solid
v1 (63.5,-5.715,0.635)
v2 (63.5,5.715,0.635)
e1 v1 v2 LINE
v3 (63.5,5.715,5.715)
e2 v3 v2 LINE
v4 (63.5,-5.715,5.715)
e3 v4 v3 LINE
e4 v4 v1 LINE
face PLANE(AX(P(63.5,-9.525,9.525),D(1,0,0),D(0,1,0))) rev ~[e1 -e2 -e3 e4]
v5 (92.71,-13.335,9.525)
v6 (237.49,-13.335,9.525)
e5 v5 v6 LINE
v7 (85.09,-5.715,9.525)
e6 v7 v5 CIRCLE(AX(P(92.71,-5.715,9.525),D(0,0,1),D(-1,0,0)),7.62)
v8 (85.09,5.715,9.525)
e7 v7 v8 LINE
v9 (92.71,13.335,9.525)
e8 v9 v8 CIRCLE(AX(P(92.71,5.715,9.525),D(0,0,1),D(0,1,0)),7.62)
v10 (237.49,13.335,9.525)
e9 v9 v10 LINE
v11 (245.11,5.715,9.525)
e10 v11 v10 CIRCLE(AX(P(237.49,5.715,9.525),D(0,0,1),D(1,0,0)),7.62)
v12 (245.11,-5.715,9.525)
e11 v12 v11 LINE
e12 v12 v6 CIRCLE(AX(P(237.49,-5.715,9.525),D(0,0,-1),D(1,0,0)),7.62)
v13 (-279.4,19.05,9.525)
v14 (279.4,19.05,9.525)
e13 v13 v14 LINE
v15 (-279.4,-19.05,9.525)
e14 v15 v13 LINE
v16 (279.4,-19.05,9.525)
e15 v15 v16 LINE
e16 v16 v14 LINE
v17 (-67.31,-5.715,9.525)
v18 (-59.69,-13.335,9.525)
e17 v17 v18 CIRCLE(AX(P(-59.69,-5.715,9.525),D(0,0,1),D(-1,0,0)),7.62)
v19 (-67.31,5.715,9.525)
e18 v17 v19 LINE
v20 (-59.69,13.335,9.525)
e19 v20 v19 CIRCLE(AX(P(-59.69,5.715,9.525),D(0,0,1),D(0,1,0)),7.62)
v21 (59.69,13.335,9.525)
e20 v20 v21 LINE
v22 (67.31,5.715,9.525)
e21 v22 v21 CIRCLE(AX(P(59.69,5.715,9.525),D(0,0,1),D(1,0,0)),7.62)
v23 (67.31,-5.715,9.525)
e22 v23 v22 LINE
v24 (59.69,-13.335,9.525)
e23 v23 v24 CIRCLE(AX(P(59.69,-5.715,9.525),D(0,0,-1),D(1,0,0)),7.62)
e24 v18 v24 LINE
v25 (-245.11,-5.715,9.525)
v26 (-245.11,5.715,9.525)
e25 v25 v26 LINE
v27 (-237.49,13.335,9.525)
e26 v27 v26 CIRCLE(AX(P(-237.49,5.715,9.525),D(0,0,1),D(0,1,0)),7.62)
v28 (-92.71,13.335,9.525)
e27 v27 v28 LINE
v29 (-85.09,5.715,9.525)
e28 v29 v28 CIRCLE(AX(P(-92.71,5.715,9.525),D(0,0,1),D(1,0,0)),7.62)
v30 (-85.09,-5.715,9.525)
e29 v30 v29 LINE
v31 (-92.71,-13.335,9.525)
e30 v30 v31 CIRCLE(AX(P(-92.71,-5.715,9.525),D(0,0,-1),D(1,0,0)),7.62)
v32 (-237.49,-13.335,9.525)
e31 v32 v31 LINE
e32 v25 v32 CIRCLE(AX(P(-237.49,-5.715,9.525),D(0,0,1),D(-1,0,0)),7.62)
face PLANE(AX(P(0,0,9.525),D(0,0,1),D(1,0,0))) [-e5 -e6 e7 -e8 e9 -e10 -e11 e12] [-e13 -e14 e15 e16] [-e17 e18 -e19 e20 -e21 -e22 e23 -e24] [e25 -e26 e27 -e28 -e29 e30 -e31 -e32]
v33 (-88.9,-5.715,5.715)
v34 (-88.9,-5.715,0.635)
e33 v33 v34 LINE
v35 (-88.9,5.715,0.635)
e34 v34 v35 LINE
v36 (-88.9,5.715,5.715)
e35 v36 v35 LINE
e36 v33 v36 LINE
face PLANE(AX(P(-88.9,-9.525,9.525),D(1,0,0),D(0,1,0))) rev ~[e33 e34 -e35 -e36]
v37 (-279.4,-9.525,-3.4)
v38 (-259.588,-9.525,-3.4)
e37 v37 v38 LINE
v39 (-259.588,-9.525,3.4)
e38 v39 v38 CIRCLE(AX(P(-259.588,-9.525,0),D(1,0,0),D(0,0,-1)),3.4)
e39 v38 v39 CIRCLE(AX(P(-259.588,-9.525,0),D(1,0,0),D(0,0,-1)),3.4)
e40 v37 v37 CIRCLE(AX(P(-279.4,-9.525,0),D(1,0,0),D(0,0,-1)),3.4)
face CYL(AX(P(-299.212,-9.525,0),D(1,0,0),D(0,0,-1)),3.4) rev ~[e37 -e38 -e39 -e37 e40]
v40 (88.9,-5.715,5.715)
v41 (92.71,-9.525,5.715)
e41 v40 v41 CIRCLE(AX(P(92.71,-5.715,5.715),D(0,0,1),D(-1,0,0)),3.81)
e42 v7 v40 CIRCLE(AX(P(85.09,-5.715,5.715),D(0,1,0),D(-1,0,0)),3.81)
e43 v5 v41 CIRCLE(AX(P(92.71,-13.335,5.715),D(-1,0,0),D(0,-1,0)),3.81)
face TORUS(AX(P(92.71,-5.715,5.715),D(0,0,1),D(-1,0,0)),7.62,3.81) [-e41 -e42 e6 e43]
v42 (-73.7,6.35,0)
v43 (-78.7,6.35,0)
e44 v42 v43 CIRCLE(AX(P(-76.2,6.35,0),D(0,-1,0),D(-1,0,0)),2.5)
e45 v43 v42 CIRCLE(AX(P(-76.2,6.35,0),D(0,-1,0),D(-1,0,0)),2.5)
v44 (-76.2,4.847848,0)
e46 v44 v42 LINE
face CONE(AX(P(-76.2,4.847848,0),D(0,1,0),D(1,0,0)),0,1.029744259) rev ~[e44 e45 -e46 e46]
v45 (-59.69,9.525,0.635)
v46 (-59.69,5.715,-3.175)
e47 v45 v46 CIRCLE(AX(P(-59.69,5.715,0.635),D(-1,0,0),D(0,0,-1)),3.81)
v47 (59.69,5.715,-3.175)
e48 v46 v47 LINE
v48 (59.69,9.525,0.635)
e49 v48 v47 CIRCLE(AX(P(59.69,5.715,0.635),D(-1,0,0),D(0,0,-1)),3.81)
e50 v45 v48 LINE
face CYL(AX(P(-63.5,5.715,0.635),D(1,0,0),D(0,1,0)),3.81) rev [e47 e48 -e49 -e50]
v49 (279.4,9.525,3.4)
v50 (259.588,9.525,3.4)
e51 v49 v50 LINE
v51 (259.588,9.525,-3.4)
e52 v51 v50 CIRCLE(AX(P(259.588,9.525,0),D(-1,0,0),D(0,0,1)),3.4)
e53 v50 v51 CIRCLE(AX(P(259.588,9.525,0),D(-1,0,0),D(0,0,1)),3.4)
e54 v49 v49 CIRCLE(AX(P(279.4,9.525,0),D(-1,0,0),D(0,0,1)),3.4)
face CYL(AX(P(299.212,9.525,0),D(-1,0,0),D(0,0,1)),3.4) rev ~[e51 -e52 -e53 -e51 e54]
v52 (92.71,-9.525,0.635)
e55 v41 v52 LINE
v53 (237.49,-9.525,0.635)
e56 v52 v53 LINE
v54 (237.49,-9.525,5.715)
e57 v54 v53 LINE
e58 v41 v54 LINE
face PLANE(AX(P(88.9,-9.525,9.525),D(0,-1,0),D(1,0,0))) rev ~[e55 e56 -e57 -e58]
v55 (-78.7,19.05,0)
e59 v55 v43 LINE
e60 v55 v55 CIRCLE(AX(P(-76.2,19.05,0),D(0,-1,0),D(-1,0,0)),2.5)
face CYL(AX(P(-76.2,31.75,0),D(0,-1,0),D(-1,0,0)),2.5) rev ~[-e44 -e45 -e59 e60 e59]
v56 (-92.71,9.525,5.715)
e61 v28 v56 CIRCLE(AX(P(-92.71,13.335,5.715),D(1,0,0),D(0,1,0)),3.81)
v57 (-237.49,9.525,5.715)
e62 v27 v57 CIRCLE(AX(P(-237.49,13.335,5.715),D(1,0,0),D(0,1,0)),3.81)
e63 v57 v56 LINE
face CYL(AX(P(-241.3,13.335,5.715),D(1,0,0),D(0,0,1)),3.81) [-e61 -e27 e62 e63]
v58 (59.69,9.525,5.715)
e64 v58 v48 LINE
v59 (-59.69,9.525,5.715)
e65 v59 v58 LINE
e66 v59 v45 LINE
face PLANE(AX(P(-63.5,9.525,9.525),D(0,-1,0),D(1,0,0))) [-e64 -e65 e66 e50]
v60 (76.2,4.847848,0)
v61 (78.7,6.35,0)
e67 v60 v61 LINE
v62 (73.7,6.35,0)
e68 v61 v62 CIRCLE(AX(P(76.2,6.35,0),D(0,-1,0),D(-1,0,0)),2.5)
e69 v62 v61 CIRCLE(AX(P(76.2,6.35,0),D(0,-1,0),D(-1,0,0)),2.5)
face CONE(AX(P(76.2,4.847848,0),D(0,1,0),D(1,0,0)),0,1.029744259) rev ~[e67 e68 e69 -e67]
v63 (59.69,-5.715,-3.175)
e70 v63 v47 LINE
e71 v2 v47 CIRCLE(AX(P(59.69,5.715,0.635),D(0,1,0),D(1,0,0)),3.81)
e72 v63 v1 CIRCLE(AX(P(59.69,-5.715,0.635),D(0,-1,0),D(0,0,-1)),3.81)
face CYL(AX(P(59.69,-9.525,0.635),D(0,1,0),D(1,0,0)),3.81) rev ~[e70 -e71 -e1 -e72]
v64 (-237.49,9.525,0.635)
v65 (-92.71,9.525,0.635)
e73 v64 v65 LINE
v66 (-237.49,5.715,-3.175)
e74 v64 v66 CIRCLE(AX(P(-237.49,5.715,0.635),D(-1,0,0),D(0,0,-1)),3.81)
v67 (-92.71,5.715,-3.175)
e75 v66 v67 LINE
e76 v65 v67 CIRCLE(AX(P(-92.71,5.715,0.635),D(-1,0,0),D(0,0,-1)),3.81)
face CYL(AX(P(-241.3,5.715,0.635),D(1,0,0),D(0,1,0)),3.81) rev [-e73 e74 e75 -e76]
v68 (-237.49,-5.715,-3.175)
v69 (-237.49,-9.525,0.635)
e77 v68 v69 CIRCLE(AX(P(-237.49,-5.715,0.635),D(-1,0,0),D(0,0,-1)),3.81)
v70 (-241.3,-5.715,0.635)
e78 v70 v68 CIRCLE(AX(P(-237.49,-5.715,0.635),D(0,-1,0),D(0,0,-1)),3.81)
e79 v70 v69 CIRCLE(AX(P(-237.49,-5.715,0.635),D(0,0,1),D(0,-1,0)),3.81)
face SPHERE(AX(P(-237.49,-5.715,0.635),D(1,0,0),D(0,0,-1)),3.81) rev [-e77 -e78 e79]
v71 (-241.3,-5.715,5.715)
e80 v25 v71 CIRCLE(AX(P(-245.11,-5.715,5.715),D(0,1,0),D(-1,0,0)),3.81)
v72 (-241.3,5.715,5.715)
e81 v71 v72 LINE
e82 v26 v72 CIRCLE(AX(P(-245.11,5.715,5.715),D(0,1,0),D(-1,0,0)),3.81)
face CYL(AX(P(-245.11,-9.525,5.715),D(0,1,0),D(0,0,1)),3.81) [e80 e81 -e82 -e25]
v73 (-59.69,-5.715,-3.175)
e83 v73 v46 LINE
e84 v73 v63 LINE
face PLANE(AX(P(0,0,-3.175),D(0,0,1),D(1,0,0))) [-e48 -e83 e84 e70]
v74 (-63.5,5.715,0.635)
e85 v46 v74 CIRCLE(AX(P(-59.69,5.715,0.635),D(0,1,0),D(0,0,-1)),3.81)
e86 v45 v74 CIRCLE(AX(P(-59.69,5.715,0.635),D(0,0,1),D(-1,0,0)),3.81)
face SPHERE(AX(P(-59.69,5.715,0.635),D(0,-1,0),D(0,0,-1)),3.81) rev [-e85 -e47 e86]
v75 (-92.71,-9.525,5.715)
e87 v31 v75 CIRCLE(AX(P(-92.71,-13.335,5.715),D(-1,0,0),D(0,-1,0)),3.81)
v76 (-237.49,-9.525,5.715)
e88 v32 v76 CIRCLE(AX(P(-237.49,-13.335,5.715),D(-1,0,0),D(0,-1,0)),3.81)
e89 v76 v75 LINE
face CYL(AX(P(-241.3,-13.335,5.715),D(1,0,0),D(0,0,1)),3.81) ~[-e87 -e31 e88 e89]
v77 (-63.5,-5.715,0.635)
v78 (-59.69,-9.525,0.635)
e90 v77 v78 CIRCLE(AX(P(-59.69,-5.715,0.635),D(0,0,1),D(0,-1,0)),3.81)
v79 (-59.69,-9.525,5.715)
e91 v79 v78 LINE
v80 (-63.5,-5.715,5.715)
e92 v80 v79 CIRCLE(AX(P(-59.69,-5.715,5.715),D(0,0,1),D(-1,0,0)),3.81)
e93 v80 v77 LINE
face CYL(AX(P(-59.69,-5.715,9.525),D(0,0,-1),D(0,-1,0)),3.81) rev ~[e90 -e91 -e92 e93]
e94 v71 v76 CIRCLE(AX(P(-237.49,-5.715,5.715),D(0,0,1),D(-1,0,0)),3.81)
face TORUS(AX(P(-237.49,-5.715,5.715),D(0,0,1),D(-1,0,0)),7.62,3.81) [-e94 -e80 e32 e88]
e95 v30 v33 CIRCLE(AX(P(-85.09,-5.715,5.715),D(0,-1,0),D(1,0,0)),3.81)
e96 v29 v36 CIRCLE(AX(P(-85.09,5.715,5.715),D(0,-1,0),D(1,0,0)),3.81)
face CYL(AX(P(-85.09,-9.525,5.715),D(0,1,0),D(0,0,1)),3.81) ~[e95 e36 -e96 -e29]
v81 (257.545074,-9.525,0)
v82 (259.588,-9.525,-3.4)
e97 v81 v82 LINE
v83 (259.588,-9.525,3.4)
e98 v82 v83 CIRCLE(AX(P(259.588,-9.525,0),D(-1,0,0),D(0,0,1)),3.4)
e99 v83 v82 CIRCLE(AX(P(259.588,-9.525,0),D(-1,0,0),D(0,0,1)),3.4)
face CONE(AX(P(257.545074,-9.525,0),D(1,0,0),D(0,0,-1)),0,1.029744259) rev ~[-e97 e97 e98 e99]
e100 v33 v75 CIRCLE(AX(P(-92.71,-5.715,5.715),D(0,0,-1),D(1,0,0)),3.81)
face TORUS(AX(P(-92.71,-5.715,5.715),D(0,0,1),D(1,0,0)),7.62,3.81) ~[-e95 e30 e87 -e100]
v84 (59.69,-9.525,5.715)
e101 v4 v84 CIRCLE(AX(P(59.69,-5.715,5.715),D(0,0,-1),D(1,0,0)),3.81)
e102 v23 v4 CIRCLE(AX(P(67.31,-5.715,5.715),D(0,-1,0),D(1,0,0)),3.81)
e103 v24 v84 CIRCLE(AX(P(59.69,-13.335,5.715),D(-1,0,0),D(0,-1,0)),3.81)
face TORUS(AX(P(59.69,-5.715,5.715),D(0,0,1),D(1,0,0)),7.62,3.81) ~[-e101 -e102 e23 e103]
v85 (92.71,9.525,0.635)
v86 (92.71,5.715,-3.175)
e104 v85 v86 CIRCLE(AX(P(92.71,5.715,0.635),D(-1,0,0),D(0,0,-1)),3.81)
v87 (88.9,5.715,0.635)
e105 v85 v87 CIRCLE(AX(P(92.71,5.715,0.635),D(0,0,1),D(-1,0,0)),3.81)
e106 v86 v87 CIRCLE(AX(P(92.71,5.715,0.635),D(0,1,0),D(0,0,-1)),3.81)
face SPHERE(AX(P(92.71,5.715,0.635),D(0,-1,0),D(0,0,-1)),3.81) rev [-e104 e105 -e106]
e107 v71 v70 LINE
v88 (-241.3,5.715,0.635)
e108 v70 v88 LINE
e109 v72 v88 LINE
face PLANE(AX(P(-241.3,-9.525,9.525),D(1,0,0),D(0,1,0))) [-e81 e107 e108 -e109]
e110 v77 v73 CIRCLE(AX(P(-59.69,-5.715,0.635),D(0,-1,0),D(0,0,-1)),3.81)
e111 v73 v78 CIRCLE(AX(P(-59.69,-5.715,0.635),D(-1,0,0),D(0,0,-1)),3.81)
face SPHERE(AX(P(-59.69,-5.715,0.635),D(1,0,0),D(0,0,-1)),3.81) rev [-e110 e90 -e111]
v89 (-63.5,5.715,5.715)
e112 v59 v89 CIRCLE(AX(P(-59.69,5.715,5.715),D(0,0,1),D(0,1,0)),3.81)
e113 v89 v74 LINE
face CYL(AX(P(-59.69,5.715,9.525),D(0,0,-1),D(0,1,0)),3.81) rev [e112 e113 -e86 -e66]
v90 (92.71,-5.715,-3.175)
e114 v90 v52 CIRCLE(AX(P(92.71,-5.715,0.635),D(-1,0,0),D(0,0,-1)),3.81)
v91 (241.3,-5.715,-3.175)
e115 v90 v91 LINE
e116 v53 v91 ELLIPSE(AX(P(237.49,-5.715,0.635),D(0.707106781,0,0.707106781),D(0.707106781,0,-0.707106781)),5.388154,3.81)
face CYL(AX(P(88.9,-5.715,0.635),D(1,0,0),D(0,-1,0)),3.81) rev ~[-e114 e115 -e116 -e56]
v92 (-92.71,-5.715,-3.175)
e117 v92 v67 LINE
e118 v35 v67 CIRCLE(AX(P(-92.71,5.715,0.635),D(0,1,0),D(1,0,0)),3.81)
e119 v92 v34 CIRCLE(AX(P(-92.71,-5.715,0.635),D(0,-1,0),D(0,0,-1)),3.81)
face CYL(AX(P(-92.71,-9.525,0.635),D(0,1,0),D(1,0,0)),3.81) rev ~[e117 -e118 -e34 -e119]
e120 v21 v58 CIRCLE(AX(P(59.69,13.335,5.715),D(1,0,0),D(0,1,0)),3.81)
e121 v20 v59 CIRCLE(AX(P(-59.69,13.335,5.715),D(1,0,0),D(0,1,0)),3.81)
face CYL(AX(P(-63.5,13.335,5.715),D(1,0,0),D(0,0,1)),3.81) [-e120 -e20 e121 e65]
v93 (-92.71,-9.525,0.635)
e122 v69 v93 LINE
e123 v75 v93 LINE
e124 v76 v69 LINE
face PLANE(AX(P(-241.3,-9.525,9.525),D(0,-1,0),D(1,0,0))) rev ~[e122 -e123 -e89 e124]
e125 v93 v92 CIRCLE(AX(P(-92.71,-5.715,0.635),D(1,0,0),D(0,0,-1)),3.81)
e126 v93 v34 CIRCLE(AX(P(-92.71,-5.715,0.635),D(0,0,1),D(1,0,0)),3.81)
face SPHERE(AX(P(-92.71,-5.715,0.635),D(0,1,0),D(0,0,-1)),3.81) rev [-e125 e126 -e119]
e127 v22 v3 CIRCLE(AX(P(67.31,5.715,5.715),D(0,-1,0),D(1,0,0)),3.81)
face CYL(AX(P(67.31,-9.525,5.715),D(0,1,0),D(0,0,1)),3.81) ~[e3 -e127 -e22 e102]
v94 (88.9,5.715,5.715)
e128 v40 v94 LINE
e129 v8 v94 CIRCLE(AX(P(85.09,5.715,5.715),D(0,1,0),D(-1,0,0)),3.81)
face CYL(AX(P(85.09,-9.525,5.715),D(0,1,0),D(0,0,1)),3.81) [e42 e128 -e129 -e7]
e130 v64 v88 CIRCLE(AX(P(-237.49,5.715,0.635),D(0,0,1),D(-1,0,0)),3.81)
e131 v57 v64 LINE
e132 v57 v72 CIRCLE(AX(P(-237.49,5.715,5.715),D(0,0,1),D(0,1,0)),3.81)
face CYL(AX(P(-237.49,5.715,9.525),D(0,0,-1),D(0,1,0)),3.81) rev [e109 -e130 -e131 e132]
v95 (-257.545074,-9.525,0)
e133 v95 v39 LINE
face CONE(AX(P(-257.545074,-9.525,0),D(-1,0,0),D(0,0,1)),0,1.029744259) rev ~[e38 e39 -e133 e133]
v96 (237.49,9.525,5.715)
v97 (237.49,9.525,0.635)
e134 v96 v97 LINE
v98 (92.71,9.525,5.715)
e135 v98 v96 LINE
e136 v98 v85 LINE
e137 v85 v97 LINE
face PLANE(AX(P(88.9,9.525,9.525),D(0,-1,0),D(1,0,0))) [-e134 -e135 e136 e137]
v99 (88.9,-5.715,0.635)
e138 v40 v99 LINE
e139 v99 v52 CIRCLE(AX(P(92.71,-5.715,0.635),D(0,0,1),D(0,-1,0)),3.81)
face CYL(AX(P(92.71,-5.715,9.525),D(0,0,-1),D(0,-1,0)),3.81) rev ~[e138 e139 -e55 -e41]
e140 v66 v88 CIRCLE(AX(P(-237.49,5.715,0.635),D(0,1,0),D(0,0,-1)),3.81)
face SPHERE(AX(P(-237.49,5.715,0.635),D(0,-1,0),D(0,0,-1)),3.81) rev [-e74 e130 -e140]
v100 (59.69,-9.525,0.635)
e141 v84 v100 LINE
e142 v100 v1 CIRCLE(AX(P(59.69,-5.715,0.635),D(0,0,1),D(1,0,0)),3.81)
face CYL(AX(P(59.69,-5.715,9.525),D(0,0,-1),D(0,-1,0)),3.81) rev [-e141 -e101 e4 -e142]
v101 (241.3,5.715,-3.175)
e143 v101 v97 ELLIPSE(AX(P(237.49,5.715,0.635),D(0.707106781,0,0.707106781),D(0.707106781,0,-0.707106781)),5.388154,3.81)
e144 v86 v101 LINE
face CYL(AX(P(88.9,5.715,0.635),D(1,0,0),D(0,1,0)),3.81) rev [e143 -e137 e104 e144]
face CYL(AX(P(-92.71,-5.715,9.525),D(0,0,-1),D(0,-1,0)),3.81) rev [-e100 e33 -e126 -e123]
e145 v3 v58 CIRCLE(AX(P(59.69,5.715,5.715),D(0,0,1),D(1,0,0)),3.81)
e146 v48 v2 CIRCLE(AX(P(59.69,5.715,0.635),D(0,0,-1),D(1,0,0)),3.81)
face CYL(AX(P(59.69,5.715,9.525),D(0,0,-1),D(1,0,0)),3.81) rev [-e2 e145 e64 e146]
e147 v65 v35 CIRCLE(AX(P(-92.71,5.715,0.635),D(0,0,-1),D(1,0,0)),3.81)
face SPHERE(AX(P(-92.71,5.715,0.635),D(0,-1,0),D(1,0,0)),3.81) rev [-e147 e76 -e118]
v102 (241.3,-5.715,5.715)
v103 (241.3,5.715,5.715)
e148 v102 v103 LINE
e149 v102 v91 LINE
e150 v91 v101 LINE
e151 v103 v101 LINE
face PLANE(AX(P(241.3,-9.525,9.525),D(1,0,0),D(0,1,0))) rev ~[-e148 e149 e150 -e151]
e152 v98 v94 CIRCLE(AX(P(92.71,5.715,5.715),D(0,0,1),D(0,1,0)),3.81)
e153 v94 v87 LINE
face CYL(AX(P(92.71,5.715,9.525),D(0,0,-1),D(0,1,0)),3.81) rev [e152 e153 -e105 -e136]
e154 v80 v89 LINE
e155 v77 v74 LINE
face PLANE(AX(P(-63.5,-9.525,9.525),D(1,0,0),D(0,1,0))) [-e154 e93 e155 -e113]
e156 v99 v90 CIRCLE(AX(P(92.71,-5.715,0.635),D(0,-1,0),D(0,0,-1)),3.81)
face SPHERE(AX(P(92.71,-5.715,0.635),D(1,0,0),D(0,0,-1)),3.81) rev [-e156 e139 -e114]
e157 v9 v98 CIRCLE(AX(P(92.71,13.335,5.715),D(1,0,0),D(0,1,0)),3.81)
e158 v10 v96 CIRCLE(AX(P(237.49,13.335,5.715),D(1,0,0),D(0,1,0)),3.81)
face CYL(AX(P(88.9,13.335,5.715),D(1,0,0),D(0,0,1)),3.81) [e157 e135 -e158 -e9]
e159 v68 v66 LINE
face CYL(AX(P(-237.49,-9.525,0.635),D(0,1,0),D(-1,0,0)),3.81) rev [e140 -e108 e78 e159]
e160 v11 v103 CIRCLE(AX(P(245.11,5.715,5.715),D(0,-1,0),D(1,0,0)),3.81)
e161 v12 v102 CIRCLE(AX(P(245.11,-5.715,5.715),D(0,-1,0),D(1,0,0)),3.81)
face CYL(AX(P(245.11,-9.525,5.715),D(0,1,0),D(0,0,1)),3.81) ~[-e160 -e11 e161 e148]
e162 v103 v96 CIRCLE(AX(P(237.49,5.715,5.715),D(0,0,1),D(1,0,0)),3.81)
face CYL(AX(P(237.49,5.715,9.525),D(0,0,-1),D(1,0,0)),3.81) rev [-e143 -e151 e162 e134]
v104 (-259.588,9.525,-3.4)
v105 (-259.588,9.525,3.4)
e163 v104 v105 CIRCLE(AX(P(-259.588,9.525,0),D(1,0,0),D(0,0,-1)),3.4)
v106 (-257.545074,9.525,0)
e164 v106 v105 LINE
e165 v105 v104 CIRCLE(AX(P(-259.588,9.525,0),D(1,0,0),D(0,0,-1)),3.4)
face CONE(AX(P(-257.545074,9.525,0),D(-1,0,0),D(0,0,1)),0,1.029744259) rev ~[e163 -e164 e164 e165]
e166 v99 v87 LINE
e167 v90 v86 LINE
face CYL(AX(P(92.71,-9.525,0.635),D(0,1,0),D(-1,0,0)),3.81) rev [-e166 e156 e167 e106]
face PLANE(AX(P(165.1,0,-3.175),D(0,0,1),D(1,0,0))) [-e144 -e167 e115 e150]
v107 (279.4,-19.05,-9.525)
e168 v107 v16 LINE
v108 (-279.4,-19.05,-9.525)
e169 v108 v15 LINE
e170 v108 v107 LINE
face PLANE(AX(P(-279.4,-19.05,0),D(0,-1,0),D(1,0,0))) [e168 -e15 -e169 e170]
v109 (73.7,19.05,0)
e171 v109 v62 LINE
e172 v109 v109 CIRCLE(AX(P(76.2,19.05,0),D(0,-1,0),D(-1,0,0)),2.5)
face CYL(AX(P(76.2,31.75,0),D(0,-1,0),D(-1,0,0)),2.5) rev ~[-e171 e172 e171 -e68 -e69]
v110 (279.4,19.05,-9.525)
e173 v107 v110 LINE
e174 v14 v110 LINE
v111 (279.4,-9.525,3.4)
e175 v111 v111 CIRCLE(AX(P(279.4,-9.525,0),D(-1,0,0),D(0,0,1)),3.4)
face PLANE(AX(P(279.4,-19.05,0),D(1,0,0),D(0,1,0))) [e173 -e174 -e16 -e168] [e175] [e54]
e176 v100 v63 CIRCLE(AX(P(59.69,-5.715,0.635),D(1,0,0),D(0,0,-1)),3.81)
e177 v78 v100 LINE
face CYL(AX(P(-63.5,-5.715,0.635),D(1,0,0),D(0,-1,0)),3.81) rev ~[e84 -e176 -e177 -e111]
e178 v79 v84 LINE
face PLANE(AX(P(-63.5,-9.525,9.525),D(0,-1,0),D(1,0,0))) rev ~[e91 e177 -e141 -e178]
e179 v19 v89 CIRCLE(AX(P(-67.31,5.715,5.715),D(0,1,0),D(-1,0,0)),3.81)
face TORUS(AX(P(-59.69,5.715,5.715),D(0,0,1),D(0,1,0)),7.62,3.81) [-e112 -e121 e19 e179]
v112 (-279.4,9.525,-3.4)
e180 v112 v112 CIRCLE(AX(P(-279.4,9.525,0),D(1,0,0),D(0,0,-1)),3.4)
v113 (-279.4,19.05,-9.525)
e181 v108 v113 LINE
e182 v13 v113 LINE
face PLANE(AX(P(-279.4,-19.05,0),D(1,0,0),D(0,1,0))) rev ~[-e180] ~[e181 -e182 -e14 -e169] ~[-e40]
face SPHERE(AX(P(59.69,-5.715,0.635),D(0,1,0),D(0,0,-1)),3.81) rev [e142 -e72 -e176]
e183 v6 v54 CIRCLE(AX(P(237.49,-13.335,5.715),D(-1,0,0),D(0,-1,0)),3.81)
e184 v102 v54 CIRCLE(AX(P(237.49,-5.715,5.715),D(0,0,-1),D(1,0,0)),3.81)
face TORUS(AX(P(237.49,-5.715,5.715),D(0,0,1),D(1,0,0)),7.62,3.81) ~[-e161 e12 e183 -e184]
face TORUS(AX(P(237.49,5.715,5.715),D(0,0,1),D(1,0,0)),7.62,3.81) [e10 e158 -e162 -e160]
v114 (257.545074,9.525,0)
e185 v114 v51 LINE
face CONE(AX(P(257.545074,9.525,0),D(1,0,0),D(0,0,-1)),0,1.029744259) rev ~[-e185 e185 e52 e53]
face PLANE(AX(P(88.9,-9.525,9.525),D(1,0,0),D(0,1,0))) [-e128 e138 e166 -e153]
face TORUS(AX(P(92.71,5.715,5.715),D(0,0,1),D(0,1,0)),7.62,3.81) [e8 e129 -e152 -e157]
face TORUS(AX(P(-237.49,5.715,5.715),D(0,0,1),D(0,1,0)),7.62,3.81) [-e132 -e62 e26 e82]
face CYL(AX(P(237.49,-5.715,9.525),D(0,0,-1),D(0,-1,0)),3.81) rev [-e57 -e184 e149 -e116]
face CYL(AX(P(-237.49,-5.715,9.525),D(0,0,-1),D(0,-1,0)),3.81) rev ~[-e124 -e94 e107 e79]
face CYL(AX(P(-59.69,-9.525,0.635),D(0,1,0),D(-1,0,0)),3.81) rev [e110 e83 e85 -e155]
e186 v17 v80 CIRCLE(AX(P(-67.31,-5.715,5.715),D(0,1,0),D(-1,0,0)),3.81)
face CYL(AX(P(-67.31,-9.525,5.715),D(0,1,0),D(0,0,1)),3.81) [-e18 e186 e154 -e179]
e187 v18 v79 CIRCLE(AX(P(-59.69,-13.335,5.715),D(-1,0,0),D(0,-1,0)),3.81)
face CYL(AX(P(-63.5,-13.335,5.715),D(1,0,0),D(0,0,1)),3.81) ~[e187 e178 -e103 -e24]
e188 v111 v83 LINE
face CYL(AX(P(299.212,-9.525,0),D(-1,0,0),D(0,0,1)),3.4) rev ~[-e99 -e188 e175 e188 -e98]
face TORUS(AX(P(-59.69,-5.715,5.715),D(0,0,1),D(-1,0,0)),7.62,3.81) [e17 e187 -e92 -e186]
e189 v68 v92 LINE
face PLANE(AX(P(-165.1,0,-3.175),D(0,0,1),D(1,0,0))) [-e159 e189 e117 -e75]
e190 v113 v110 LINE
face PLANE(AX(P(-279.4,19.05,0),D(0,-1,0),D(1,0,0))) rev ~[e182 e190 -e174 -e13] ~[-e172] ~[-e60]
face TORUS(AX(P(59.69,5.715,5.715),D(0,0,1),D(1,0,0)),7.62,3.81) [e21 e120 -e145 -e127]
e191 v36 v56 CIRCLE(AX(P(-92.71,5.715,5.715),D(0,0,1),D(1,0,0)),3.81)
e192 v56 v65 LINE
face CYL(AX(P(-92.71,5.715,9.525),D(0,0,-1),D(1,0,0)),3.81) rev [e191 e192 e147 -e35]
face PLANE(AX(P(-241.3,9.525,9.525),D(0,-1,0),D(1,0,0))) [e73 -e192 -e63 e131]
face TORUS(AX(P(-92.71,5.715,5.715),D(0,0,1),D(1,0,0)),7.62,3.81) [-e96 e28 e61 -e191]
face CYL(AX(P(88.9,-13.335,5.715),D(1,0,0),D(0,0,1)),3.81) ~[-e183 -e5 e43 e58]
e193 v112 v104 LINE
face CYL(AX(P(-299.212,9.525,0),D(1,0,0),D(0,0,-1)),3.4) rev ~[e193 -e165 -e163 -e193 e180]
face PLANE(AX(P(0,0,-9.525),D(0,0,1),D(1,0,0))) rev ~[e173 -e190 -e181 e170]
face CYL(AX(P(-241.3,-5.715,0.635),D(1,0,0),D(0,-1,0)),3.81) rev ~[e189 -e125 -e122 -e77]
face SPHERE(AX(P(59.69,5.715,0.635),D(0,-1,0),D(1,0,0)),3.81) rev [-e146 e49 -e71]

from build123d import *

# Parameters (mm, degrees)
SKETCH1_W                  = 558.8
SKETCH1_H                  = 38.1
EXTRUDE1_DEPTH             = 9.525
M8X1_25_TAPPED_HOLE1_D     = 6.8
M8X1_25_TAPPED_HOLE1_DEPTH = 19.812
M8X1_25_TAPPED_HOLE1_TIP   = 2.042926105
M8X1_25_TAPPED_HOLE2_D     = 6.8
M8X1_25_TAPPED_HOLE2_DEPTH = 19.812
M8X1_25_TAPPED_HOLE2_TIP   = 2.042926105
M6X1_0_TAPPED_HOLE1_D      = 5
M6X1_0_TAPPED_HOLE1_DEPTH  = 12.7
M6X1_0_TAPPED_HOLE1_TIP    = 1.502151548
SKETCH12_W                 = 127
SKETCH12_H                 = 19.05
SKETCH12_W_2               = 152.4
CUT_EXTRUDE1_DEPTH         = 12.7
FILLET1_R                  = 3.81


with BuildPart() as part:
    # Sketch1 → Extrude1 (new body, symmetric)
    with BuildSketch(Plane.XY):
        Rectangle(SKETCH1_W, SKETCH1_H)
    extrude(amount=EXTRUDE1_DEPTH, both=True)

    # M8x1.25 Tapped Hole1
    with Locations(Plane.ZY.offset(279.4)):
        with Locations((0, 9.525), (0, -9.525)):
            Hole(M8X1_25_TAPPED_HOLE1_D / 2, depth=M8X1_25_TAPPED_HOLE1_DEPTH)
            with Locations((0, 0, -(M8X1_25_TAPPED_HOLE1_DEPTH + M8X1_25_TAPPED_HOLE1_TIP / 2))):  # 118° drill point
                Cone(0, M8X1_25_TAPPED_HOLE1_D / 2, M8X1_25_TAPPED_HOLE1_TIP, mode=Mode.SUBTRACT)

    # M8x1.25 Tapped Hole2
    with Locations(Plane(origin=(279.4, 0, 0), x_dir=(0, 0, -1), z_dir=(1, 0, 0))):
        with Locations((0, 9.525), (0, -9.525)):
            Hole(M8X1_25_TAPPED_HOLE2_D / 2, depth=M8X1_25_TAPPED_HOLE2_DEPTH)
            with Locations((0, 0, -(M8X1_25_TAPPED_HOLE2_DEPTH + M8X1_25_TAPPED_HOLE2_TIP / 2))):  # 118° drill point
                Cone(0, M8X1_25_TAPPED_HOLE2_D / 2, M8X1_25_TAPPED_HOLE2_TIP, mode=Mode.SUBTRACT)

    # M6x1.0 Tapped Hole1
    with Locations(Plane(origin=(0, 19.05, 0), x_dir=(1, 0, 0), z_dir=(0, 1, 0))):
        with Locations((-76.2, 0), (76.2, 0)):
            Hole(M6X1_0_TAPPED_HOLE1_D / 2, depth=M6X1_0_TAPPED_HOLE1_DEPTH)
            with Locations((0, 0, -(M6X1_0_TAPPED_HOLE1_DEPTH + M6X1_0_TAPPED_HOLE1_TIP / 2))):  # 118° drill point
                Cone(0, M6X1_0_TAPPED_HOLE1_D / 2, M6X1_0_TAPPED_HOLE1_TIP, mode=Mode.SUBTRACT)

    # Sketch12 → Cut-Extrude1 (cut)
    with BuildSketch(Plane.XY.offset(9.525)):
        Rectangle(SKETCH12_W, SKETCH12_H)
        with Locations((165.1, 0)):
            Rectangle(SKETCH12_W_2, SKETCH12_H)
        with Locations((-165.1, 0)):
            Rectangle(SKETCH12_W_2, SKETCH12_H)
    extrude(amount=-CUT_EXTRUDE1_DEPTH, mode=Mode.SUBTRACT)

    # Fillet1
    fillet1_edges = [part.edges().sort_by_distance(p)[0] for p in [
        (-88.9, 0, -3.175),
        (-88.9, 9.525, 3.175),
        (-165.1, -9.525, -3.175),
        (-88.9, -9.525, 3.175),
        (-241.3, 0, -3.175),
        (-241.3, -9.525, 3.175),
        (-165.1, 9.525, -3.175),
        (-241.3, 9.525, 3.175),
        (-88.9, 0, 9.525),
        (-165.1, 9.525, 9.525),
        (-241.3, 0, 9.525),
        (-165.1, -9.525, 9.525),
        (241.3, 9.525, 3.175),
        (165.1, -9.525, -3.175),
        (241.3, -9.525, 3.175),
        (88.9, 0, -3.175),
        (88.9, -9.525, 3.175),
        (165.1, 9.525, -3.175),
        (88.9, 9.525, 3.175),
        (241.3, 0, 9.525),
        (165.1, 9.525, 9.525),
        (88.9, 0, 9.525),
        (165.1, -9.525, 9.525),
        (63.5, 0, -3.175),
        (63.5, 9.525, 3.175),
        (0, -9.525, -3.175),
        (63.5, -9.525, 3.175),
        (-63.5, 0, -3.175),
        (-63.5, -9.525, 3.175),
        (0, 9.525, -3.175),
        (-63.5, 9.525, 3.175),
        (63.5, 0, 9.525),
        (0, 9.525, 9.525),
        (-63.5, 0, 9.525),
        (0, -9.525, 9.525),
    ]]
    fillet(fillet1_edges, radius=FILLET1_R)


solid = part.part
